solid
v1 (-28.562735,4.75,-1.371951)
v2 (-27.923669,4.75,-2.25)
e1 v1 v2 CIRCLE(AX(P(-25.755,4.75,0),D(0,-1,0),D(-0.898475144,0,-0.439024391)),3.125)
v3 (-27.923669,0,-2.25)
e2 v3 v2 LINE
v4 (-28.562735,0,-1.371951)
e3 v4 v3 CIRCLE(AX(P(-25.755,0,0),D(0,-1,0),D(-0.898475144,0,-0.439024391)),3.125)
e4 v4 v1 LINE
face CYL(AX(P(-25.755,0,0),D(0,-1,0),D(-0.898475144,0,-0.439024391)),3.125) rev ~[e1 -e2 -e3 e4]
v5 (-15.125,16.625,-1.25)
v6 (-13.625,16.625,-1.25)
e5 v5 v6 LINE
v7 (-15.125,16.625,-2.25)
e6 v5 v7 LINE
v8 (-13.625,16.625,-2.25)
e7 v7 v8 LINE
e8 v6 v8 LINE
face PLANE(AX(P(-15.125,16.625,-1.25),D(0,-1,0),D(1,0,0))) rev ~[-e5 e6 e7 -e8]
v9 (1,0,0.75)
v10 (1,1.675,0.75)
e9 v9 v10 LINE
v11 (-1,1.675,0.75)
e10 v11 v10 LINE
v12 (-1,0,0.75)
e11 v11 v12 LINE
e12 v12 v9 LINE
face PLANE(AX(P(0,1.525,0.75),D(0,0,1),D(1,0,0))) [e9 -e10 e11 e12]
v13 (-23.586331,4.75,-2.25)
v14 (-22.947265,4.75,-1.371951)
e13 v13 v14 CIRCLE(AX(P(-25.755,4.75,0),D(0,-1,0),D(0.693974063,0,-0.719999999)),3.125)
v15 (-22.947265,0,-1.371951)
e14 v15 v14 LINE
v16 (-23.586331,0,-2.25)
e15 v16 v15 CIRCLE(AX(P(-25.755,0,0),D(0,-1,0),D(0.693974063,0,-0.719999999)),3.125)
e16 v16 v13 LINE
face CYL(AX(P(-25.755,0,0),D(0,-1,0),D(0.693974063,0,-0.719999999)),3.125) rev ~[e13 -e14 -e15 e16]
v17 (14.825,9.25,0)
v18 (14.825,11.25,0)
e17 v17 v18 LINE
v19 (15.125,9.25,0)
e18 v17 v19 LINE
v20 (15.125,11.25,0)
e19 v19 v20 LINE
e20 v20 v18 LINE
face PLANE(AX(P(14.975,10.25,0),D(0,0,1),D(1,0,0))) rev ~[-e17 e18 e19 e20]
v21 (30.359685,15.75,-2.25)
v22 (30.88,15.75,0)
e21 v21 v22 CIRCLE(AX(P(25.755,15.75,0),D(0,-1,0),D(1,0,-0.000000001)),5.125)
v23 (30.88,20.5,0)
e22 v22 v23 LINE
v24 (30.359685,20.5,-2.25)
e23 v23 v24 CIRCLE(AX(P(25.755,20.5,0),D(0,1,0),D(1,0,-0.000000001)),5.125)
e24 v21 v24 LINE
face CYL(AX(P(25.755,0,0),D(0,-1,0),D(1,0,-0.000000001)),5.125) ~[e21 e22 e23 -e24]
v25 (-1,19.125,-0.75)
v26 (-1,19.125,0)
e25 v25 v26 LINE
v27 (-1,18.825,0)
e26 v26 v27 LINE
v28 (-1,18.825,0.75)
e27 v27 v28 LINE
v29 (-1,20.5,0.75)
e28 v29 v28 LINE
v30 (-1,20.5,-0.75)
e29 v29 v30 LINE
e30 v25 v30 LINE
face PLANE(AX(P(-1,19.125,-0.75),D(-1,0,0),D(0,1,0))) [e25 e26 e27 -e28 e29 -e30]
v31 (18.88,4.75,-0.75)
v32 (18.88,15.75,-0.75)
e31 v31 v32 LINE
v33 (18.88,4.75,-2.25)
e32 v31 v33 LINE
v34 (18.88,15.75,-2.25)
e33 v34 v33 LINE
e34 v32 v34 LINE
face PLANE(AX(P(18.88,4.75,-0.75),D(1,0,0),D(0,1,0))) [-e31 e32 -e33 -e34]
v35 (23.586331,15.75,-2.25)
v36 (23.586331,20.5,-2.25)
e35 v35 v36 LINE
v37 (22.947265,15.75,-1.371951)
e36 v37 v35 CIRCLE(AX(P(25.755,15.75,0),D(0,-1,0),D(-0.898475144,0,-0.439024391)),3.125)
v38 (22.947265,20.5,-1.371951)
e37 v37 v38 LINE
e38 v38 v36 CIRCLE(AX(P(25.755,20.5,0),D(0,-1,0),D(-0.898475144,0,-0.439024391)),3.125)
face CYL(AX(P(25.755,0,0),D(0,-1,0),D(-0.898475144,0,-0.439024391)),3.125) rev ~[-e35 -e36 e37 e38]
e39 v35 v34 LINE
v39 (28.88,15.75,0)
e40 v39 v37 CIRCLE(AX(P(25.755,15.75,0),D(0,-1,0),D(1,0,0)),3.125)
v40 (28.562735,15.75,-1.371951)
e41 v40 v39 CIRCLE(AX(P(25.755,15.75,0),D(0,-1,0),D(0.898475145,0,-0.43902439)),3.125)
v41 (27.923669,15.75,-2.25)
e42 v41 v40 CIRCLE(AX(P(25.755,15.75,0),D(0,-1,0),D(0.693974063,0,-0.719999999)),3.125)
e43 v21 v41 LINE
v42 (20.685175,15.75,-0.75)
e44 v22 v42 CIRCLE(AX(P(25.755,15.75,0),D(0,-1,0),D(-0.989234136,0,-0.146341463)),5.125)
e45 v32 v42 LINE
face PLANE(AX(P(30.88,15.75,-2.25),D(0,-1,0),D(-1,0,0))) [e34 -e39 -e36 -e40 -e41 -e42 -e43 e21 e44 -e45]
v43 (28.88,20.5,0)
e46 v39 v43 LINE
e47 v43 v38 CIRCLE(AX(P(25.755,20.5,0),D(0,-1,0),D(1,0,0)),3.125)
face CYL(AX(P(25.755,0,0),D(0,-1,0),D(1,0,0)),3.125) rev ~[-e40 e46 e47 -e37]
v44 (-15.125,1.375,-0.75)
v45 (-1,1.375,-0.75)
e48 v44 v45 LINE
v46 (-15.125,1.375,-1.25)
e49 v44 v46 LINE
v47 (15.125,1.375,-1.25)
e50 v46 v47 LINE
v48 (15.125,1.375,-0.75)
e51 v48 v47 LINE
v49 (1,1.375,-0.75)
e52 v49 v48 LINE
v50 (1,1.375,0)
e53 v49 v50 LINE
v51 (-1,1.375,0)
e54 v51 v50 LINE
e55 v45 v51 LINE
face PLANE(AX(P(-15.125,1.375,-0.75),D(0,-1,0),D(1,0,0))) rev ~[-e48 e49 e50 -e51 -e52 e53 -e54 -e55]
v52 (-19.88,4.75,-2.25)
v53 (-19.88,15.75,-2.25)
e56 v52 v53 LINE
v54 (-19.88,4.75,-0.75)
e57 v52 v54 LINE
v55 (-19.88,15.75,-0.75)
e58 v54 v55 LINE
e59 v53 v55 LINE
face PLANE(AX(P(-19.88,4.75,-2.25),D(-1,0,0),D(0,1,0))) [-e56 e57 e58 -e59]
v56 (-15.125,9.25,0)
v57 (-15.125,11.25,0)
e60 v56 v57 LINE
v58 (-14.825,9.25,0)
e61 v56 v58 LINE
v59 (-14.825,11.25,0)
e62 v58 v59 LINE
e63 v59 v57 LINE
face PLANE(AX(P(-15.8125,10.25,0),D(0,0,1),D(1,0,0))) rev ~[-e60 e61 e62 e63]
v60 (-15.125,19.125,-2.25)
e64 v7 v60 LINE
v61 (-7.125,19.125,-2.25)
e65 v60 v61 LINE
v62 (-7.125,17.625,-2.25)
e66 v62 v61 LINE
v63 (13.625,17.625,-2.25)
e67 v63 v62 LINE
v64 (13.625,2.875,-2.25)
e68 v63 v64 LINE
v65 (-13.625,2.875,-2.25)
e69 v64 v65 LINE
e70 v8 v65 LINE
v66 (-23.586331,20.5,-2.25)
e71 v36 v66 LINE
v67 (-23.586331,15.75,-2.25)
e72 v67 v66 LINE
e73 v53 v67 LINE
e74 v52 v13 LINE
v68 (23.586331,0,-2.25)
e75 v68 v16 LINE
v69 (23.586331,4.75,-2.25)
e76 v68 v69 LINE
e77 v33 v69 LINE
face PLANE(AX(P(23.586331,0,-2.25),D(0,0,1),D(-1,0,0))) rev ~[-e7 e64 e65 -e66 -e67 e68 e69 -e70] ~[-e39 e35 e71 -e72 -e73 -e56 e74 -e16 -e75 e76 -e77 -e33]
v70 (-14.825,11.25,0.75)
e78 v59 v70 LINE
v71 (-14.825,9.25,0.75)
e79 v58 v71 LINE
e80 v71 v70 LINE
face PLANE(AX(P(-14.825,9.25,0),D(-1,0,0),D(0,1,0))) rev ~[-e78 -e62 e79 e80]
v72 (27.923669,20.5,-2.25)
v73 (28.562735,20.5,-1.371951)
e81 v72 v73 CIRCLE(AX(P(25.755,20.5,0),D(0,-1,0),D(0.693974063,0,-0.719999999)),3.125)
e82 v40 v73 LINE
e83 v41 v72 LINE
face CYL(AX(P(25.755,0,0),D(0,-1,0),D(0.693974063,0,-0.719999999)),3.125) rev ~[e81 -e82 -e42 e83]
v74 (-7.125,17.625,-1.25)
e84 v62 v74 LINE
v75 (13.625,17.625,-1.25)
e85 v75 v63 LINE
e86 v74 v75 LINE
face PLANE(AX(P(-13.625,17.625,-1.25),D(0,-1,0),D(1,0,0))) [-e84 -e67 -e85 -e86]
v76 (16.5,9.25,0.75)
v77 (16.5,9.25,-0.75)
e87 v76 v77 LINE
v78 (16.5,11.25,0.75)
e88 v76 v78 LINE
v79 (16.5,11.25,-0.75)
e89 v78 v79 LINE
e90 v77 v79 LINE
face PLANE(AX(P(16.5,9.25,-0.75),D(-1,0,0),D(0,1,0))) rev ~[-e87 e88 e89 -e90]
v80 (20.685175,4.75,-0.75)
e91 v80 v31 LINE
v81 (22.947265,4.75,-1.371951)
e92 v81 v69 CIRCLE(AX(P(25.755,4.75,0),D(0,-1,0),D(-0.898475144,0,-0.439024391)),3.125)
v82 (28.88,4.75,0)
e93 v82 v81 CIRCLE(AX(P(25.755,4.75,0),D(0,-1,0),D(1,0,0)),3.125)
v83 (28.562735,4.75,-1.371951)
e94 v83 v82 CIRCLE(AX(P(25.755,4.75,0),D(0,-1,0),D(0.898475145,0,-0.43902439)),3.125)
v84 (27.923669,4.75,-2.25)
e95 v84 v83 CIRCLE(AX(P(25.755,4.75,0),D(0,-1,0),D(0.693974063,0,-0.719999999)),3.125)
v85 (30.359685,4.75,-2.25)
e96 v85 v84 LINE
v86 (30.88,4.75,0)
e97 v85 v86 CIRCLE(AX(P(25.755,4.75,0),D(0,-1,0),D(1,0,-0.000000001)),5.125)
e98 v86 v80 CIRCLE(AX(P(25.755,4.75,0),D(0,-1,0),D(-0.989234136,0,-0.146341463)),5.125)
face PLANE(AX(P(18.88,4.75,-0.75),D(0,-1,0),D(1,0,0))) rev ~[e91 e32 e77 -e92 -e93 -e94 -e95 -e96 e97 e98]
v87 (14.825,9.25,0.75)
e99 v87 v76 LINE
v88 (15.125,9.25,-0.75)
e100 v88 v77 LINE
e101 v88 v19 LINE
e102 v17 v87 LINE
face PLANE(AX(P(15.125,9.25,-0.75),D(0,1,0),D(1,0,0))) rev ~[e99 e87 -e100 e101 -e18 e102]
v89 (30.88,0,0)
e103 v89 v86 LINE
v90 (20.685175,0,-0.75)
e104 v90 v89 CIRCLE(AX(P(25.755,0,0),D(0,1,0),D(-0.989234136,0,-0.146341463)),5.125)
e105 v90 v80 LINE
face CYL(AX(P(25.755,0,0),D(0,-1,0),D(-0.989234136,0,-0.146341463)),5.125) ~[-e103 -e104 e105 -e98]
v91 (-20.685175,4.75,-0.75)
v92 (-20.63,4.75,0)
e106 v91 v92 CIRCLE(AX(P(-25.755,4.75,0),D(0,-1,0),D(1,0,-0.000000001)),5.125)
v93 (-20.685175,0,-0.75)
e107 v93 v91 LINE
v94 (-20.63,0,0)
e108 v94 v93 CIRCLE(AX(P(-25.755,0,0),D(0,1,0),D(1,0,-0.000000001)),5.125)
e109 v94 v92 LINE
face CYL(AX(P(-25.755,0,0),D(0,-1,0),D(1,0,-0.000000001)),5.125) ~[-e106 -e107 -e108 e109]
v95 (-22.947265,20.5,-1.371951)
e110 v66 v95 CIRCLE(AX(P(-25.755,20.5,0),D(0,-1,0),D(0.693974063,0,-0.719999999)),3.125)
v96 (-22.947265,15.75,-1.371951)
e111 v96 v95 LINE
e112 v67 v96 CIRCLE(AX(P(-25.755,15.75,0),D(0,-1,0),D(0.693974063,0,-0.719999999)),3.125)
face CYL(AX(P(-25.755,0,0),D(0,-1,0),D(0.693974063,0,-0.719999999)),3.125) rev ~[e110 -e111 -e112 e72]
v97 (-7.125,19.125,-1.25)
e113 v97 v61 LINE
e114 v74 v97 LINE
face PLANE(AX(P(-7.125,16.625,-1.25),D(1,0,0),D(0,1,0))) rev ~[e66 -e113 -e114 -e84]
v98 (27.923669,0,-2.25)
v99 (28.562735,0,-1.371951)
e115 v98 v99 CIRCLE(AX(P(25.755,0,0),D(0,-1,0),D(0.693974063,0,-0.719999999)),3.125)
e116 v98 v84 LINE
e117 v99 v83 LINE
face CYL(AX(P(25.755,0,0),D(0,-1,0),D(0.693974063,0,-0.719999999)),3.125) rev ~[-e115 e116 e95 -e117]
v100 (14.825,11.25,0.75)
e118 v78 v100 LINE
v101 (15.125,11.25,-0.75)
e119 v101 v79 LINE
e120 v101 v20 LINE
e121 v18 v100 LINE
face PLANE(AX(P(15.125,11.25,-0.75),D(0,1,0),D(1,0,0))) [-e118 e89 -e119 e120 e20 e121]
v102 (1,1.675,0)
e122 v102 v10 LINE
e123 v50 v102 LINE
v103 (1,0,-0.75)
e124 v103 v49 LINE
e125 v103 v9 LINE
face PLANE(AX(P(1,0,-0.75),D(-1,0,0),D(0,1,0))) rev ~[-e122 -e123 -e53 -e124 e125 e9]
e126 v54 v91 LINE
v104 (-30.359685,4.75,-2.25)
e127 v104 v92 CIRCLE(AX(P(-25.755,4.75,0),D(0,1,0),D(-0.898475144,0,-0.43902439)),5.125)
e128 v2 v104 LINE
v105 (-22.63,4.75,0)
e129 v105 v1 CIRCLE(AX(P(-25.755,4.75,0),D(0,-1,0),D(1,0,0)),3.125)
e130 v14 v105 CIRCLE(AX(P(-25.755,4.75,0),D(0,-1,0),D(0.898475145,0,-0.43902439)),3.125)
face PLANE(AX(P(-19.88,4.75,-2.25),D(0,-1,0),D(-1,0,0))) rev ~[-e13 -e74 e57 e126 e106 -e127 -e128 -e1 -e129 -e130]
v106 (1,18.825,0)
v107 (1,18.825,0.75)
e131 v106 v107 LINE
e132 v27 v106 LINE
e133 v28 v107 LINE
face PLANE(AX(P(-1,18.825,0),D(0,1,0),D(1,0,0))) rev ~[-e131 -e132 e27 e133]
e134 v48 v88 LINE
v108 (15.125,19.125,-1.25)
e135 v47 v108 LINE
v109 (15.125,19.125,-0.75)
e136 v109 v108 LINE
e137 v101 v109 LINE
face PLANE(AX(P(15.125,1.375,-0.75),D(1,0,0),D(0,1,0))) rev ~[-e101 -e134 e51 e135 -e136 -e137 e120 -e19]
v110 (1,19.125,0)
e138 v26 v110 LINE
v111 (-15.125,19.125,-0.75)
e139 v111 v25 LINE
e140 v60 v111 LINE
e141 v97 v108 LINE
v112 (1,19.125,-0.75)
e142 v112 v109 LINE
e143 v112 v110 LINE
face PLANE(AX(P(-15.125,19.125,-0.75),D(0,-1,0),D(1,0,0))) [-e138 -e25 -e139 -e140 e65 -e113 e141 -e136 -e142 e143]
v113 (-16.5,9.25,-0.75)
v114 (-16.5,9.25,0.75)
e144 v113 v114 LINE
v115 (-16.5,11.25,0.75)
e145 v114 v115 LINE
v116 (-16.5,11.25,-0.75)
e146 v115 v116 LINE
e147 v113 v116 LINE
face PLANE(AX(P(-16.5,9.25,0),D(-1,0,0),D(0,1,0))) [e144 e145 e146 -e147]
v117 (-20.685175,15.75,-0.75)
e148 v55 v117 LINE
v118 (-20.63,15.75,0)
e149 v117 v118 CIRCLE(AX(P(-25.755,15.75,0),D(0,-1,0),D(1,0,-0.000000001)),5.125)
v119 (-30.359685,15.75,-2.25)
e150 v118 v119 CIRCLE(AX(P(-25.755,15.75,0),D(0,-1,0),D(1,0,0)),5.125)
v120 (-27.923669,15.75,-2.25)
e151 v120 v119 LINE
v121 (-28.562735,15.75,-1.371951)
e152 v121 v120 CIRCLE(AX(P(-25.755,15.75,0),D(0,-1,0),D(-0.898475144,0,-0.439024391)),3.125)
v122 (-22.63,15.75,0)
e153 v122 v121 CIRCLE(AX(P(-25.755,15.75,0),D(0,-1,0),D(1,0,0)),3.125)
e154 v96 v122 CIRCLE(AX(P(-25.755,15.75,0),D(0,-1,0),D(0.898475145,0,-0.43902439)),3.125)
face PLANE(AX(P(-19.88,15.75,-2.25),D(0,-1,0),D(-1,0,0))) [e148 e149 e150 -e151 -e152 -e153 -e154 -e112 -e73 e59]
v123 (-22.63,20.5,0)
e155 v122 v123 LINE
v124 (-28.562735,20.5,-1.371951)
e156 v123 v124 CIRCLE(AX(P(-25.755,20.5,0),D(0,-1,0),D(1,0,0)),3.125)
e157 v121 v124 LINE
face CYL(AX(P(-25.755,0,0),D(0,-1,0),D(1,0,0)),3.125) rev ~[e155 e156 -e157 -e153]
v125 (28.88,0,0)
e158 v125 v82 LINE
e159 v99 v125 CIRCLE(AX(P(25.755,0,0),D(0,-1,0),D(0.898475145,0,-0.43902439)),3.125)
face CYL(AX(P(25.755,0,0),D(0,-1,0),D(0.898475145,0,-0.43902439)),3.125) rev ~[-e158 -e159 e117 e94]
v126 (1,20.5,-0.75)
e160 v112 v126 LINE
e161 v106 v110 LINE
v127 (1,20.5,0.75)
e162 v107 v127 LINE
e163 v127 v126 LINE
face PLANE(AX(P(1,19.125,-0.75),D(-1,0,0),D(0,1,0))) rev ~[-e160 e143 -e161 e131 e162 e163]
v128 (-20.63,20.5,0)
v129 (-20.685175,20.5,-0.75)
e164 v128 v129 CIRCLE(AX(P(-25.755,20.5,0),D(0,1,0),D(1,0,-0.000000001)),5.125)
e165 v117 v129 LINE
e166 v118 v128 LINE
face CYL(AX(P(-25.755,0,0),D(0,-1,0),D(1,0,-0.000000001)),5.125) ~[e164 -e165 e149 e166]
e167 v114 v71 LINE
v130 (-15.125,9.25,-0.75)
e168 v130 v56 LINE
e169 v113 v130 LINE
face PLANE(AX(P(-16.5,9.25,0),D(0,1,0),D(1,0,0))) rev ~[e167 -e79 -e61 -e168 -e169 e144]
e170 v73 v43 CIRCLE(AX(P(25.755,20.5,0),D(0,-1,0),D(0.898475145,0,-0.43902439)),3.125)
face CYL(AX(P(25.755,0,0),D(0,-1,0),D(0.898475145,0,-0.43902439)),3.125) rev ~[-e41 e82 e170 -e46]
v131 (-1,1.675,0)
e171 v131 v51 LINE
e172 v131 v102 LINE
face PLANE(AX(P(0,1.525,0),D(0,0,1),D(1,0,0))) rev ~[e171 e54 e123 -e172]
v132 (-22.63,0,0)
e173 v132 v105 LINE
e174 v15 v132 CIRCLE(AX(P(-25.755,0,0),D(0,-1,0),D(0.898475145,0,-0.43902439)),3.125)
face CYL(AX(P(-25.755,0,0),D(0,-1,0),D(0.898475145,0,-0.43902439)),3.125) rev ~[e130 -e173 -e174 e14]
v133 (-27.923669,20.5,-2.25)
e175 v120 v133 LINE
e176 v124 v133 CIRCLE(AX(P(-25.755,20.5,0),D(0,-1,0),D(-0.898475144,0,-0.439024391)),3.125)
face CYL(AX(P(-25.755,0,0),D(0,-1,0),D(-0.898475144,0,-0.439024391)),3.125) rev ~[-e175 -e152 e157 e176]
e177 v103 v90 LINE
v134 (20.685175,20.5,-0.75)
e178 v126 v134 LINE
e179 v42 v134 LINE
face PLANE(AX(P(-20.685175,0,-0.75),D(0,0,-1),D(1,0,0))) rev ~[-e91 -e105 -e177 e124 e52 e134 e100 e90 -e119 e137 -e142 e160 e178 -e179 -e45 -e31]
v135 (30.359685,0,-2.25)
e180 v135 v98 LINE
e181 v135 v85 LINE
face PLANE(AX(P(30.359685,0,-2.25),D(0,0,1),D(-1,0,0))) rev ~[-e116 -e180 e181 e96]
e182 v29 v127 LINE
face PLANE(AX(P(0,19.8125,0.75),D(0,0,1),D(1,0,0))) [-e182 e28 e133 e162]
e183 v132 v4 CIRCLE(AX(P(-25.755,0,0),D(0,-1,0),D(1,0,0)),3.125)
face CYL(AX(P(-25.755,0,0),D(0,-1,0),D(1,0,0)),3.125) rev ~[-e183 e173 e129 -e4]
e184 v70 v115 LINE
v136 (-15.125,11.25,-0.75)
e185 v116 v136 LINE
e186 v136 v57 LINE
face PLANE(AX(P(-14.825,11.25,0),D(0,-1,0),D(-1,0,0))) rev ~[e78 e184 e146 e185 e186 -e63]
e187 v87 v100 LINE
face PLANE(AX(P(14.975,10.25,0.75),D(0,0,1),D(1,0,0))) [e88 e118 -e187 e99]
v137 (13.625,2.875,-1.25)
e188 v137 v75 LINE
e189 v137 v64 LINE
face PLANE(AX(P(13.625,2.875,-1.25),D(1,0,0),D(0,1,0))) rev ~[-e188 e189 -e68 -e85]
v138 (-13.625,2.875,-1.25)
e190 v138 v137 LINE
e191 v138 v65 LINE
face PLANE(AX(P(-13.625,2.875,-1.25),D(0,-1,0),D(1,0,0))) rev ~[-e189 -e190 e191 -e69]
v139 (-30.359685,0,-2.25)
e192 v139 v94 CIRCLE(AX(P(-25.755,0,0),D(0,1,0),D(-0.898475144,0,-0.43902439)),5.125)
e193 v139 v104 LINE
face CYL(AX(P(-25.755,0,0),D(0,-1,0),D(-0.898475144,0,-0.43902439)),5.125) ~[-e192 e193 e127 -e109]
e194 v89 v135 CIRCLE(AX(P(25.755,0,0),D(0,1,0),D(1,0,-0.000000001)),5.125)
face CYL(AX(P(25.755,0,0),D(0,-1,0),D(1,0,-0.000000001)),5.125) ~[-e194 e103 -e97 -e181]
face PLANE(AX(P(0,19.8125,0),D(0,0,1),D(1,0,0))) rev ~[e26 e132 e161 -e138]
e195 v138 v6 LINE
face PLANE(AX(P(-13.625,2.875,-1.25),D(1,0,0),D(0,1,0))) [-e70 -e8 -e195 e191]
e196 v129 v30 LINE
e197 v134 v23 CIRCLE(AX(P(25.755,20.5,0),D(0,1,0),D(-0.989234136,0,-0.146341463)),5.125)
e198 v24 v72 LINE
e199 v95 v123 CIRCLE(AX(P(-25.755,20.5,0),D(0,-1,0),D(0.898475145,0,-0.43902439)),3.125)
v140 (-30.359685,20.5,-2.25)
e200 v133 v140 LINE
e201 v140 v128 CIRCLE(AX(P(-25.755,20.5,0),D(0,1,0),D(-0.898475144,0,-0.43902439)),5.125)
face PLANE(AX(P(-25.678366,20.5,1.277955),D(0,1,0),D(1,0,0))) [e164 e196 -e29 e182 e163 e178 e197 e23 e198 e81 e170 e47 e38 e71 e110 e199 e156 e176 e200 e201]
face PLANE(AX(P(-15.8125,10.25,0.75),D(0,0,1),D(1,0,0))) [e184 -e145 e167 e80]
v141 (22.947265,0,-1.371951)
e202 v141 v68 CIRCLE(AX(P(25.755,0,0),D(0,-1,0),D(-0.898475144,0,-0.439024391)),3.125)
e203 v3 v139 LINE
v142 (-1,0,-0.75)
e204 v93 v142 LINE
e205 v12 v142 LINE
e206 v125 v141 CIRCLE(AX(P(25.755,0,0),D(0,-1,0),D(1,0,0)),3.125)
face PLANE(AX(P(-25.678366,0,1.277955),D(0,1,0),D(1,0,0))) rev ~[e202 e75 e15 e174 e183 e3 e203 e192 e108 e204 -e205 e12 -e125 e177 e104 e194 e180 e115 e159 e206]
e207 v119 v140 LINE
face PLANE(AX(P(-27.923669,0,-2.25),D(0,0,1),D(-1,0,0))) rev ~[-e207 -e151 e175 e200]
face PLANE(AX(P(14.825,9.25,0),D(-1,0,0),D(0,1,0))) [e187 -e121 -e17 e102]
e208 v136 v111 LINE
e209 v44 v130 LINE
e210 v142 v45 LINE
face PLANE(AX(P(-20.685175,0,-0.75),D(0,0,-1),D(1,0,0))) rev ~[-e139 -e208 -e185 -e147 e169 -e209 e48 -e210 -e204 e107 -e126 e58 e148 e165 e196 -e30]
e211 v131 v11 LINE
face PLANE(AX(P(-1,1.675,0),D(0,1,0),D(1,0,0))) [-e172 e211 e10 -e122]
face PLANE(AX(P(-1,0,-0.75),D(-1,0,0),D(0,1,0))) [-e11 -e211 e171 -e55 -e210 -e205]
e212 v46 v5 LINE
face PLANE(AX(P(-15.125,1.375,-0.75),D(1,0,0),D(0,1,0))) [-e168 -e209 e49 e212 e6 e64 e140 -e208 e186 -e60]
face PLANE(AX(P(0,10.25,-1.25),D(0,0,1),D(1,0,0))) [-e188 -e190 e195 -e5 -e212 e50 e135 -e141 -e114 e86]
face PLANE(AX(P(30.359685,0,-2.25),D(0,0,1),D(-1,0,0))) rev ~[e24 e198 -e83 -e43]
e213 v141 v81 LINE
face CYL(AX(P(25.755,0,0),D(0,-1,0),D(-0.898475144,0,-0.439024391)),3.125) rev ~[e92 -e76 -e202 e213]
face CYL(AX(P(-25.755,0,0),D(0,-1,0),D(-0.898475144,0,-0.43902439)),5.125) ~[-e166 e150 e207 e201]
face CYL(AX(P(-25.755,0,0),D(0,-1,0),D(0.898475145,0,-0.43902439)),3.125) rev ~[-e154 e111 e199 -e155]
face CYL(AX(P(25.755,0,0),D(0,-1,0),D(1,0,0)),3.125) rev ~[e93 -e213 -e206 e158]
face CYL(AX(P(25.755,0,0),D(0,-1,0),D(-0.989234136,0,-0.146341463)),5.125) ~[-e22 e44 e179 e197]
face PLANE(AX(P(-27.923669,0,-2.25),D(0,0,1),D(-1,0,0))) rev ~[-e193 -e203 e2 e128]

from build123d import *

# Parameters (mm, degrees)
BOSS_EXTRUDE1_DEPTH = 20.5
SKETCH2_W           = 11
SKETCH2_H           = 11
CUT_EXTRUDE1_DEPTH  = 38.791732231
SKETCH3_W           = 30.25
SKETCH3_H           = 17.75
CUT_EXTRUDE2_DEPTH  = 0.5
CUT_EXTRUDE3_REACH  = 39.609
SKETCH4_W           = 27.25
SKETCH4_H           = 14.75
SKETCH5_W           = 2
SKETCH5_H           = 1.375
SKETCH5_W_2         = 1.375
SKETCH5_H_2         = 2
BOSS_EXTRUDE2_DEPTH = 0.75
SKETCH6_W           = 1.375
SKETCH6_H           = 2
SKETCH6_W_2         = 0.3
SKETCH6_W_3         = 2
SKETCH6_H_2         = 0.3
SKETCH6_H_3         = 1.375
BOSS_EXTRUDE3_DEPTH = 0.75
SKETCH7_W           = 8
SKETCH7_H           = 2.5
CUT_EXTRUDE4_DEPTH  = 38.609374164
CUT_EXTRUDE5_REACH  = 39.528
SKETCH8_W           = 1
SKETCH8_H           = 11


with BuildPart() as part:
    # Sketch1 → Boss-Extrude1 (new body)
    with BuildSketch(Plane(origin=(0, 0, 0), x_dir=(1, 0, 0), z_dir=(0, 1, 0))):
        with BuildLine():
            Line((-21.150314886, 2.25), (-22.947265174, 1.37195122))
            ThreePointArc((-22.947265174, 1.37195122), (-22.710349254, 0.704078714), (-22.63, 0))
            ThreePointArc((-22.63, 0), (-26.459078714, -3.044650746), (-28.562734826, 1.37195122))
            Line((-28.562734826, 1.37195122), (-30.359685114, 2.25))
            ThreePointArc((-30.359685114, 2.25), (-26.90968909, -4.993227223), (-20.63, 0))
            ThreePointArc((-20.63, 0), (-20.643812376, 0.376013393), (-20.685175052, 0.75))
            ThreePointArc((-20.685175052, 0.75), (-20.85994778, 1.517922517), (-21.150314886, 2.25))
        make_face()
        with BuildLine():
            Line((21.150314886, 2.25), (-21.150314886, 2.25))
            ThreePointArc((-21.150314886, 2.25), (-20.85994778, 1.517922517), (-20.685175052, 0.75))
            Line((-20.685175052, 0.75), (20.685175052, 0.75))
            ThreePointArc((20.685175052, 0.75), (20.85994778, 1.517922517), (21.150314886, 2.25))
        make_face()
        with BuildLine():
            Line((22.947265174, 1.37195122), (21.150314886, 2.25))
            ThreePointArc((21.150314886, 2.25), (20.85994778, 1.517922517), (20.685175052, 0.75))
            ThreePointArc((20.685175052, 0.75), (25.378986607, -5.111187624), (30.88, 0))
            ThreePointArc((30.88, 0), (30.748227223, 1.15468909), (30.359685114, 2.25))
            Line((30.359685114, 2.25), (28.562734826, 1.37195122))
            ThreePointArc((28.562734826, 1.37195122), (28.799650746, 0.704078714), (28.88, 0))
            ThreePointArc((28.88, 0), (25.050921286, -3.044650746), (22.947265174, 1.37195122))
        make_face()
        with BuildLine():
            Line((23.586331053, 2.25), (21.150314886, 2.25))
            Line((21.150314886, 2.25), (22.947265174, 1.37195122))
            ThreePointArc((22.947265174, 1.37195122), (23.22836369, 1.838949145), (23.586331053, 2.25))
        make_face()
        with BuildLine():
            Line((28.562734826, 1.37195122), (30.359685114, 2.25))
            Line((30.359685114, 2.25), (27.923668947, 2.25))
            ThreePointArc((27.923668947, 2.25), (28.28163631, 1.838949145), (28.562734826, 1.37195122))
        make_face()
        with BuildLine():
            ThreePointArc((-23.586331053, 2.25), (-23.22836369, 1.838949145), (-22.947265174, 1.37195122))
            Line((-22.947265174, 1.37195122), (-21.150314886, 2.25))
            Line((-21.150314886, 2.25), (-23.586331053, 2.25))
        make_face()
        with BuildLine():
            Line((-30.359685114, 2.25), (-28.562734826, 1.37195122))
            ThreePointArc((-28.562734826, 1.37195122), (-28.28163631, 1.838949145), (-27.923668947, 2.25))
            Line((-27.923668947, 2.25), (-30.359685114, 2.25))
        make_face()
    extrude(amount=BOSS_EXTRUDE1_DEPTH)

    # Sketch2 → Cut-Extrude1 (cut, through all)
    with BuildSketch(Plane(origin=(0, 0, -2.25), x_dir=(-1, 0, 0), z_dir=(0, 0, -1))):
        with Locations((-25.38, 10.25)):
            Rectangle(SKETCH2_W, SKETCH2_H)
        with Locations((25.38, 10.25)):
            Rectangle(SKETCH2_W, SKETCH2_H)
    extrude(amount=-CUT_EXTRUDE1_DEPTH, mode=Mode.SUBTRACT)

    # Sketch3 → Cut-Extrude2 (cut)
    with BuildSketch(Plane.XY.offset(-0.75)):
        with Locations((0, 10.25)):
            Rectangle(SKETCH3_W, SKETCH3_H)
    extrude(amount=-CUT_EXTRUDE2_DEPTH, mode=Mode.SUBTRACT)

    # Sketch4 → Cut-Extrude3 (cut, up to next)
    with BuildSketch(Plane.XY.offset(-1.25), mode=Mode.PRIVATE) as cut_extrude3_sk1:
        with Locations((0, 10.25)):
            Rectangle(SKETCH4_W, SKETCH4_H)
    cut_extrude3_tool1 = extrude(cut_extrude3_sk1.sketch, amount=-CUT_EXTRUDE3_REACH, mode=Mode.PRIVATE) & part.part
    add(cut_extrude3_tool1.solids().sort_by_distance((0, 10.25, -1.25))[0], mode=Mode.SUBTRACT)

    # Sketch5 → Boss-Extrude2 (add)
    with BuildSketch(Plane.XY.offset(-0.75)):
        with Locations((0, 19.8125)):
            Rectangle(SKETCH5_W, SKETCH5_H)
        with Locations((0, 0.6875)):
            Rectangle(SKETCH5_W, SKETCH5_H)
        with Locations((-15.8125, 10.25)):
            Rectangle(SKETCH5_W_2, SKETCH5_H_2)
        with Locations((15.8125, 10.25)):
            Rectangle(SKETCH5_W_2, SKETCH5_H_2)
    extrude(amount=BOSS_EXTRUDE2_DEPTH)

    # Sketch6 → Boss-Extrude3 (add)
    with BuildSketch(Plane.XY):
        with Locations((-15.8125, 10.25)):
            Rectangle(SKETCH6_W, SKETCH6_H)
        with Locations((-14.975, 10.25)):
            Rectangle(SKETCH6_W_2, SKETCH6_H)
        with Locations((0, 1.525)):
            Rectangle(SKETCH6_W_3, SKETCH6_H_2)
        with Locations((0, 0.6875)):
            Rectangle(SKETCH6_W_3, SKETCH6_H_3)
        with Locations((14.975, 10.25)):
            Rectangle(SKETCH6_W_2, SKETCH6_H)
        with Locations((15.8125, 10.25)):
            Rectangle(SKETCH6_W, SKETCH6_H)
        with Locations((0, 19.8125)):
            Rectangle(SKETCH6_W_3, SKETCH6_H_3)
        with Locations((0, 18.975)):
            Rectangle(SKETCH6_W_3, SKETCH6_H_2)
    extrude(amount=BOSS_EXTRUDE3_DEPTH)

    # Sketch7 → Cut-Extrude4 (cut, through all)
    with BuildSketch(Plane.XY.offset(-1.25)):
        with Locations((-11.125, 17.875)):
            Rectangle(SKETCH7_W, SKETCH7_H)
    extrude(amount=-CUT_EXTRUDE4_DEPTH, mode=Mode.SUBTRACT)

    # Sketch8 → Cut-Extrude5 (cut, up to next)
    with BuildSketch(Plane.XY.offset(-0.75), mode=Mode.PRIVATE) as cut_extrude5_sk1:
        with Locations((19.38, 10.25)):
            Rectangle(SKETCH8_W, SKETCH8_H)
    cut_extrude5_tool1 = extrude(cut_extrude5_sk1.sketch, amount=-CUT_EXTRUDE5_REACH, mode=Mode.PRIVATE) & part.part
    add(cut_extrude5_tool1.solids().sort_by_distance((19.38, 10.25, -0.75))[0], mode=Mode.SUBTRACT)


solid = part.part
